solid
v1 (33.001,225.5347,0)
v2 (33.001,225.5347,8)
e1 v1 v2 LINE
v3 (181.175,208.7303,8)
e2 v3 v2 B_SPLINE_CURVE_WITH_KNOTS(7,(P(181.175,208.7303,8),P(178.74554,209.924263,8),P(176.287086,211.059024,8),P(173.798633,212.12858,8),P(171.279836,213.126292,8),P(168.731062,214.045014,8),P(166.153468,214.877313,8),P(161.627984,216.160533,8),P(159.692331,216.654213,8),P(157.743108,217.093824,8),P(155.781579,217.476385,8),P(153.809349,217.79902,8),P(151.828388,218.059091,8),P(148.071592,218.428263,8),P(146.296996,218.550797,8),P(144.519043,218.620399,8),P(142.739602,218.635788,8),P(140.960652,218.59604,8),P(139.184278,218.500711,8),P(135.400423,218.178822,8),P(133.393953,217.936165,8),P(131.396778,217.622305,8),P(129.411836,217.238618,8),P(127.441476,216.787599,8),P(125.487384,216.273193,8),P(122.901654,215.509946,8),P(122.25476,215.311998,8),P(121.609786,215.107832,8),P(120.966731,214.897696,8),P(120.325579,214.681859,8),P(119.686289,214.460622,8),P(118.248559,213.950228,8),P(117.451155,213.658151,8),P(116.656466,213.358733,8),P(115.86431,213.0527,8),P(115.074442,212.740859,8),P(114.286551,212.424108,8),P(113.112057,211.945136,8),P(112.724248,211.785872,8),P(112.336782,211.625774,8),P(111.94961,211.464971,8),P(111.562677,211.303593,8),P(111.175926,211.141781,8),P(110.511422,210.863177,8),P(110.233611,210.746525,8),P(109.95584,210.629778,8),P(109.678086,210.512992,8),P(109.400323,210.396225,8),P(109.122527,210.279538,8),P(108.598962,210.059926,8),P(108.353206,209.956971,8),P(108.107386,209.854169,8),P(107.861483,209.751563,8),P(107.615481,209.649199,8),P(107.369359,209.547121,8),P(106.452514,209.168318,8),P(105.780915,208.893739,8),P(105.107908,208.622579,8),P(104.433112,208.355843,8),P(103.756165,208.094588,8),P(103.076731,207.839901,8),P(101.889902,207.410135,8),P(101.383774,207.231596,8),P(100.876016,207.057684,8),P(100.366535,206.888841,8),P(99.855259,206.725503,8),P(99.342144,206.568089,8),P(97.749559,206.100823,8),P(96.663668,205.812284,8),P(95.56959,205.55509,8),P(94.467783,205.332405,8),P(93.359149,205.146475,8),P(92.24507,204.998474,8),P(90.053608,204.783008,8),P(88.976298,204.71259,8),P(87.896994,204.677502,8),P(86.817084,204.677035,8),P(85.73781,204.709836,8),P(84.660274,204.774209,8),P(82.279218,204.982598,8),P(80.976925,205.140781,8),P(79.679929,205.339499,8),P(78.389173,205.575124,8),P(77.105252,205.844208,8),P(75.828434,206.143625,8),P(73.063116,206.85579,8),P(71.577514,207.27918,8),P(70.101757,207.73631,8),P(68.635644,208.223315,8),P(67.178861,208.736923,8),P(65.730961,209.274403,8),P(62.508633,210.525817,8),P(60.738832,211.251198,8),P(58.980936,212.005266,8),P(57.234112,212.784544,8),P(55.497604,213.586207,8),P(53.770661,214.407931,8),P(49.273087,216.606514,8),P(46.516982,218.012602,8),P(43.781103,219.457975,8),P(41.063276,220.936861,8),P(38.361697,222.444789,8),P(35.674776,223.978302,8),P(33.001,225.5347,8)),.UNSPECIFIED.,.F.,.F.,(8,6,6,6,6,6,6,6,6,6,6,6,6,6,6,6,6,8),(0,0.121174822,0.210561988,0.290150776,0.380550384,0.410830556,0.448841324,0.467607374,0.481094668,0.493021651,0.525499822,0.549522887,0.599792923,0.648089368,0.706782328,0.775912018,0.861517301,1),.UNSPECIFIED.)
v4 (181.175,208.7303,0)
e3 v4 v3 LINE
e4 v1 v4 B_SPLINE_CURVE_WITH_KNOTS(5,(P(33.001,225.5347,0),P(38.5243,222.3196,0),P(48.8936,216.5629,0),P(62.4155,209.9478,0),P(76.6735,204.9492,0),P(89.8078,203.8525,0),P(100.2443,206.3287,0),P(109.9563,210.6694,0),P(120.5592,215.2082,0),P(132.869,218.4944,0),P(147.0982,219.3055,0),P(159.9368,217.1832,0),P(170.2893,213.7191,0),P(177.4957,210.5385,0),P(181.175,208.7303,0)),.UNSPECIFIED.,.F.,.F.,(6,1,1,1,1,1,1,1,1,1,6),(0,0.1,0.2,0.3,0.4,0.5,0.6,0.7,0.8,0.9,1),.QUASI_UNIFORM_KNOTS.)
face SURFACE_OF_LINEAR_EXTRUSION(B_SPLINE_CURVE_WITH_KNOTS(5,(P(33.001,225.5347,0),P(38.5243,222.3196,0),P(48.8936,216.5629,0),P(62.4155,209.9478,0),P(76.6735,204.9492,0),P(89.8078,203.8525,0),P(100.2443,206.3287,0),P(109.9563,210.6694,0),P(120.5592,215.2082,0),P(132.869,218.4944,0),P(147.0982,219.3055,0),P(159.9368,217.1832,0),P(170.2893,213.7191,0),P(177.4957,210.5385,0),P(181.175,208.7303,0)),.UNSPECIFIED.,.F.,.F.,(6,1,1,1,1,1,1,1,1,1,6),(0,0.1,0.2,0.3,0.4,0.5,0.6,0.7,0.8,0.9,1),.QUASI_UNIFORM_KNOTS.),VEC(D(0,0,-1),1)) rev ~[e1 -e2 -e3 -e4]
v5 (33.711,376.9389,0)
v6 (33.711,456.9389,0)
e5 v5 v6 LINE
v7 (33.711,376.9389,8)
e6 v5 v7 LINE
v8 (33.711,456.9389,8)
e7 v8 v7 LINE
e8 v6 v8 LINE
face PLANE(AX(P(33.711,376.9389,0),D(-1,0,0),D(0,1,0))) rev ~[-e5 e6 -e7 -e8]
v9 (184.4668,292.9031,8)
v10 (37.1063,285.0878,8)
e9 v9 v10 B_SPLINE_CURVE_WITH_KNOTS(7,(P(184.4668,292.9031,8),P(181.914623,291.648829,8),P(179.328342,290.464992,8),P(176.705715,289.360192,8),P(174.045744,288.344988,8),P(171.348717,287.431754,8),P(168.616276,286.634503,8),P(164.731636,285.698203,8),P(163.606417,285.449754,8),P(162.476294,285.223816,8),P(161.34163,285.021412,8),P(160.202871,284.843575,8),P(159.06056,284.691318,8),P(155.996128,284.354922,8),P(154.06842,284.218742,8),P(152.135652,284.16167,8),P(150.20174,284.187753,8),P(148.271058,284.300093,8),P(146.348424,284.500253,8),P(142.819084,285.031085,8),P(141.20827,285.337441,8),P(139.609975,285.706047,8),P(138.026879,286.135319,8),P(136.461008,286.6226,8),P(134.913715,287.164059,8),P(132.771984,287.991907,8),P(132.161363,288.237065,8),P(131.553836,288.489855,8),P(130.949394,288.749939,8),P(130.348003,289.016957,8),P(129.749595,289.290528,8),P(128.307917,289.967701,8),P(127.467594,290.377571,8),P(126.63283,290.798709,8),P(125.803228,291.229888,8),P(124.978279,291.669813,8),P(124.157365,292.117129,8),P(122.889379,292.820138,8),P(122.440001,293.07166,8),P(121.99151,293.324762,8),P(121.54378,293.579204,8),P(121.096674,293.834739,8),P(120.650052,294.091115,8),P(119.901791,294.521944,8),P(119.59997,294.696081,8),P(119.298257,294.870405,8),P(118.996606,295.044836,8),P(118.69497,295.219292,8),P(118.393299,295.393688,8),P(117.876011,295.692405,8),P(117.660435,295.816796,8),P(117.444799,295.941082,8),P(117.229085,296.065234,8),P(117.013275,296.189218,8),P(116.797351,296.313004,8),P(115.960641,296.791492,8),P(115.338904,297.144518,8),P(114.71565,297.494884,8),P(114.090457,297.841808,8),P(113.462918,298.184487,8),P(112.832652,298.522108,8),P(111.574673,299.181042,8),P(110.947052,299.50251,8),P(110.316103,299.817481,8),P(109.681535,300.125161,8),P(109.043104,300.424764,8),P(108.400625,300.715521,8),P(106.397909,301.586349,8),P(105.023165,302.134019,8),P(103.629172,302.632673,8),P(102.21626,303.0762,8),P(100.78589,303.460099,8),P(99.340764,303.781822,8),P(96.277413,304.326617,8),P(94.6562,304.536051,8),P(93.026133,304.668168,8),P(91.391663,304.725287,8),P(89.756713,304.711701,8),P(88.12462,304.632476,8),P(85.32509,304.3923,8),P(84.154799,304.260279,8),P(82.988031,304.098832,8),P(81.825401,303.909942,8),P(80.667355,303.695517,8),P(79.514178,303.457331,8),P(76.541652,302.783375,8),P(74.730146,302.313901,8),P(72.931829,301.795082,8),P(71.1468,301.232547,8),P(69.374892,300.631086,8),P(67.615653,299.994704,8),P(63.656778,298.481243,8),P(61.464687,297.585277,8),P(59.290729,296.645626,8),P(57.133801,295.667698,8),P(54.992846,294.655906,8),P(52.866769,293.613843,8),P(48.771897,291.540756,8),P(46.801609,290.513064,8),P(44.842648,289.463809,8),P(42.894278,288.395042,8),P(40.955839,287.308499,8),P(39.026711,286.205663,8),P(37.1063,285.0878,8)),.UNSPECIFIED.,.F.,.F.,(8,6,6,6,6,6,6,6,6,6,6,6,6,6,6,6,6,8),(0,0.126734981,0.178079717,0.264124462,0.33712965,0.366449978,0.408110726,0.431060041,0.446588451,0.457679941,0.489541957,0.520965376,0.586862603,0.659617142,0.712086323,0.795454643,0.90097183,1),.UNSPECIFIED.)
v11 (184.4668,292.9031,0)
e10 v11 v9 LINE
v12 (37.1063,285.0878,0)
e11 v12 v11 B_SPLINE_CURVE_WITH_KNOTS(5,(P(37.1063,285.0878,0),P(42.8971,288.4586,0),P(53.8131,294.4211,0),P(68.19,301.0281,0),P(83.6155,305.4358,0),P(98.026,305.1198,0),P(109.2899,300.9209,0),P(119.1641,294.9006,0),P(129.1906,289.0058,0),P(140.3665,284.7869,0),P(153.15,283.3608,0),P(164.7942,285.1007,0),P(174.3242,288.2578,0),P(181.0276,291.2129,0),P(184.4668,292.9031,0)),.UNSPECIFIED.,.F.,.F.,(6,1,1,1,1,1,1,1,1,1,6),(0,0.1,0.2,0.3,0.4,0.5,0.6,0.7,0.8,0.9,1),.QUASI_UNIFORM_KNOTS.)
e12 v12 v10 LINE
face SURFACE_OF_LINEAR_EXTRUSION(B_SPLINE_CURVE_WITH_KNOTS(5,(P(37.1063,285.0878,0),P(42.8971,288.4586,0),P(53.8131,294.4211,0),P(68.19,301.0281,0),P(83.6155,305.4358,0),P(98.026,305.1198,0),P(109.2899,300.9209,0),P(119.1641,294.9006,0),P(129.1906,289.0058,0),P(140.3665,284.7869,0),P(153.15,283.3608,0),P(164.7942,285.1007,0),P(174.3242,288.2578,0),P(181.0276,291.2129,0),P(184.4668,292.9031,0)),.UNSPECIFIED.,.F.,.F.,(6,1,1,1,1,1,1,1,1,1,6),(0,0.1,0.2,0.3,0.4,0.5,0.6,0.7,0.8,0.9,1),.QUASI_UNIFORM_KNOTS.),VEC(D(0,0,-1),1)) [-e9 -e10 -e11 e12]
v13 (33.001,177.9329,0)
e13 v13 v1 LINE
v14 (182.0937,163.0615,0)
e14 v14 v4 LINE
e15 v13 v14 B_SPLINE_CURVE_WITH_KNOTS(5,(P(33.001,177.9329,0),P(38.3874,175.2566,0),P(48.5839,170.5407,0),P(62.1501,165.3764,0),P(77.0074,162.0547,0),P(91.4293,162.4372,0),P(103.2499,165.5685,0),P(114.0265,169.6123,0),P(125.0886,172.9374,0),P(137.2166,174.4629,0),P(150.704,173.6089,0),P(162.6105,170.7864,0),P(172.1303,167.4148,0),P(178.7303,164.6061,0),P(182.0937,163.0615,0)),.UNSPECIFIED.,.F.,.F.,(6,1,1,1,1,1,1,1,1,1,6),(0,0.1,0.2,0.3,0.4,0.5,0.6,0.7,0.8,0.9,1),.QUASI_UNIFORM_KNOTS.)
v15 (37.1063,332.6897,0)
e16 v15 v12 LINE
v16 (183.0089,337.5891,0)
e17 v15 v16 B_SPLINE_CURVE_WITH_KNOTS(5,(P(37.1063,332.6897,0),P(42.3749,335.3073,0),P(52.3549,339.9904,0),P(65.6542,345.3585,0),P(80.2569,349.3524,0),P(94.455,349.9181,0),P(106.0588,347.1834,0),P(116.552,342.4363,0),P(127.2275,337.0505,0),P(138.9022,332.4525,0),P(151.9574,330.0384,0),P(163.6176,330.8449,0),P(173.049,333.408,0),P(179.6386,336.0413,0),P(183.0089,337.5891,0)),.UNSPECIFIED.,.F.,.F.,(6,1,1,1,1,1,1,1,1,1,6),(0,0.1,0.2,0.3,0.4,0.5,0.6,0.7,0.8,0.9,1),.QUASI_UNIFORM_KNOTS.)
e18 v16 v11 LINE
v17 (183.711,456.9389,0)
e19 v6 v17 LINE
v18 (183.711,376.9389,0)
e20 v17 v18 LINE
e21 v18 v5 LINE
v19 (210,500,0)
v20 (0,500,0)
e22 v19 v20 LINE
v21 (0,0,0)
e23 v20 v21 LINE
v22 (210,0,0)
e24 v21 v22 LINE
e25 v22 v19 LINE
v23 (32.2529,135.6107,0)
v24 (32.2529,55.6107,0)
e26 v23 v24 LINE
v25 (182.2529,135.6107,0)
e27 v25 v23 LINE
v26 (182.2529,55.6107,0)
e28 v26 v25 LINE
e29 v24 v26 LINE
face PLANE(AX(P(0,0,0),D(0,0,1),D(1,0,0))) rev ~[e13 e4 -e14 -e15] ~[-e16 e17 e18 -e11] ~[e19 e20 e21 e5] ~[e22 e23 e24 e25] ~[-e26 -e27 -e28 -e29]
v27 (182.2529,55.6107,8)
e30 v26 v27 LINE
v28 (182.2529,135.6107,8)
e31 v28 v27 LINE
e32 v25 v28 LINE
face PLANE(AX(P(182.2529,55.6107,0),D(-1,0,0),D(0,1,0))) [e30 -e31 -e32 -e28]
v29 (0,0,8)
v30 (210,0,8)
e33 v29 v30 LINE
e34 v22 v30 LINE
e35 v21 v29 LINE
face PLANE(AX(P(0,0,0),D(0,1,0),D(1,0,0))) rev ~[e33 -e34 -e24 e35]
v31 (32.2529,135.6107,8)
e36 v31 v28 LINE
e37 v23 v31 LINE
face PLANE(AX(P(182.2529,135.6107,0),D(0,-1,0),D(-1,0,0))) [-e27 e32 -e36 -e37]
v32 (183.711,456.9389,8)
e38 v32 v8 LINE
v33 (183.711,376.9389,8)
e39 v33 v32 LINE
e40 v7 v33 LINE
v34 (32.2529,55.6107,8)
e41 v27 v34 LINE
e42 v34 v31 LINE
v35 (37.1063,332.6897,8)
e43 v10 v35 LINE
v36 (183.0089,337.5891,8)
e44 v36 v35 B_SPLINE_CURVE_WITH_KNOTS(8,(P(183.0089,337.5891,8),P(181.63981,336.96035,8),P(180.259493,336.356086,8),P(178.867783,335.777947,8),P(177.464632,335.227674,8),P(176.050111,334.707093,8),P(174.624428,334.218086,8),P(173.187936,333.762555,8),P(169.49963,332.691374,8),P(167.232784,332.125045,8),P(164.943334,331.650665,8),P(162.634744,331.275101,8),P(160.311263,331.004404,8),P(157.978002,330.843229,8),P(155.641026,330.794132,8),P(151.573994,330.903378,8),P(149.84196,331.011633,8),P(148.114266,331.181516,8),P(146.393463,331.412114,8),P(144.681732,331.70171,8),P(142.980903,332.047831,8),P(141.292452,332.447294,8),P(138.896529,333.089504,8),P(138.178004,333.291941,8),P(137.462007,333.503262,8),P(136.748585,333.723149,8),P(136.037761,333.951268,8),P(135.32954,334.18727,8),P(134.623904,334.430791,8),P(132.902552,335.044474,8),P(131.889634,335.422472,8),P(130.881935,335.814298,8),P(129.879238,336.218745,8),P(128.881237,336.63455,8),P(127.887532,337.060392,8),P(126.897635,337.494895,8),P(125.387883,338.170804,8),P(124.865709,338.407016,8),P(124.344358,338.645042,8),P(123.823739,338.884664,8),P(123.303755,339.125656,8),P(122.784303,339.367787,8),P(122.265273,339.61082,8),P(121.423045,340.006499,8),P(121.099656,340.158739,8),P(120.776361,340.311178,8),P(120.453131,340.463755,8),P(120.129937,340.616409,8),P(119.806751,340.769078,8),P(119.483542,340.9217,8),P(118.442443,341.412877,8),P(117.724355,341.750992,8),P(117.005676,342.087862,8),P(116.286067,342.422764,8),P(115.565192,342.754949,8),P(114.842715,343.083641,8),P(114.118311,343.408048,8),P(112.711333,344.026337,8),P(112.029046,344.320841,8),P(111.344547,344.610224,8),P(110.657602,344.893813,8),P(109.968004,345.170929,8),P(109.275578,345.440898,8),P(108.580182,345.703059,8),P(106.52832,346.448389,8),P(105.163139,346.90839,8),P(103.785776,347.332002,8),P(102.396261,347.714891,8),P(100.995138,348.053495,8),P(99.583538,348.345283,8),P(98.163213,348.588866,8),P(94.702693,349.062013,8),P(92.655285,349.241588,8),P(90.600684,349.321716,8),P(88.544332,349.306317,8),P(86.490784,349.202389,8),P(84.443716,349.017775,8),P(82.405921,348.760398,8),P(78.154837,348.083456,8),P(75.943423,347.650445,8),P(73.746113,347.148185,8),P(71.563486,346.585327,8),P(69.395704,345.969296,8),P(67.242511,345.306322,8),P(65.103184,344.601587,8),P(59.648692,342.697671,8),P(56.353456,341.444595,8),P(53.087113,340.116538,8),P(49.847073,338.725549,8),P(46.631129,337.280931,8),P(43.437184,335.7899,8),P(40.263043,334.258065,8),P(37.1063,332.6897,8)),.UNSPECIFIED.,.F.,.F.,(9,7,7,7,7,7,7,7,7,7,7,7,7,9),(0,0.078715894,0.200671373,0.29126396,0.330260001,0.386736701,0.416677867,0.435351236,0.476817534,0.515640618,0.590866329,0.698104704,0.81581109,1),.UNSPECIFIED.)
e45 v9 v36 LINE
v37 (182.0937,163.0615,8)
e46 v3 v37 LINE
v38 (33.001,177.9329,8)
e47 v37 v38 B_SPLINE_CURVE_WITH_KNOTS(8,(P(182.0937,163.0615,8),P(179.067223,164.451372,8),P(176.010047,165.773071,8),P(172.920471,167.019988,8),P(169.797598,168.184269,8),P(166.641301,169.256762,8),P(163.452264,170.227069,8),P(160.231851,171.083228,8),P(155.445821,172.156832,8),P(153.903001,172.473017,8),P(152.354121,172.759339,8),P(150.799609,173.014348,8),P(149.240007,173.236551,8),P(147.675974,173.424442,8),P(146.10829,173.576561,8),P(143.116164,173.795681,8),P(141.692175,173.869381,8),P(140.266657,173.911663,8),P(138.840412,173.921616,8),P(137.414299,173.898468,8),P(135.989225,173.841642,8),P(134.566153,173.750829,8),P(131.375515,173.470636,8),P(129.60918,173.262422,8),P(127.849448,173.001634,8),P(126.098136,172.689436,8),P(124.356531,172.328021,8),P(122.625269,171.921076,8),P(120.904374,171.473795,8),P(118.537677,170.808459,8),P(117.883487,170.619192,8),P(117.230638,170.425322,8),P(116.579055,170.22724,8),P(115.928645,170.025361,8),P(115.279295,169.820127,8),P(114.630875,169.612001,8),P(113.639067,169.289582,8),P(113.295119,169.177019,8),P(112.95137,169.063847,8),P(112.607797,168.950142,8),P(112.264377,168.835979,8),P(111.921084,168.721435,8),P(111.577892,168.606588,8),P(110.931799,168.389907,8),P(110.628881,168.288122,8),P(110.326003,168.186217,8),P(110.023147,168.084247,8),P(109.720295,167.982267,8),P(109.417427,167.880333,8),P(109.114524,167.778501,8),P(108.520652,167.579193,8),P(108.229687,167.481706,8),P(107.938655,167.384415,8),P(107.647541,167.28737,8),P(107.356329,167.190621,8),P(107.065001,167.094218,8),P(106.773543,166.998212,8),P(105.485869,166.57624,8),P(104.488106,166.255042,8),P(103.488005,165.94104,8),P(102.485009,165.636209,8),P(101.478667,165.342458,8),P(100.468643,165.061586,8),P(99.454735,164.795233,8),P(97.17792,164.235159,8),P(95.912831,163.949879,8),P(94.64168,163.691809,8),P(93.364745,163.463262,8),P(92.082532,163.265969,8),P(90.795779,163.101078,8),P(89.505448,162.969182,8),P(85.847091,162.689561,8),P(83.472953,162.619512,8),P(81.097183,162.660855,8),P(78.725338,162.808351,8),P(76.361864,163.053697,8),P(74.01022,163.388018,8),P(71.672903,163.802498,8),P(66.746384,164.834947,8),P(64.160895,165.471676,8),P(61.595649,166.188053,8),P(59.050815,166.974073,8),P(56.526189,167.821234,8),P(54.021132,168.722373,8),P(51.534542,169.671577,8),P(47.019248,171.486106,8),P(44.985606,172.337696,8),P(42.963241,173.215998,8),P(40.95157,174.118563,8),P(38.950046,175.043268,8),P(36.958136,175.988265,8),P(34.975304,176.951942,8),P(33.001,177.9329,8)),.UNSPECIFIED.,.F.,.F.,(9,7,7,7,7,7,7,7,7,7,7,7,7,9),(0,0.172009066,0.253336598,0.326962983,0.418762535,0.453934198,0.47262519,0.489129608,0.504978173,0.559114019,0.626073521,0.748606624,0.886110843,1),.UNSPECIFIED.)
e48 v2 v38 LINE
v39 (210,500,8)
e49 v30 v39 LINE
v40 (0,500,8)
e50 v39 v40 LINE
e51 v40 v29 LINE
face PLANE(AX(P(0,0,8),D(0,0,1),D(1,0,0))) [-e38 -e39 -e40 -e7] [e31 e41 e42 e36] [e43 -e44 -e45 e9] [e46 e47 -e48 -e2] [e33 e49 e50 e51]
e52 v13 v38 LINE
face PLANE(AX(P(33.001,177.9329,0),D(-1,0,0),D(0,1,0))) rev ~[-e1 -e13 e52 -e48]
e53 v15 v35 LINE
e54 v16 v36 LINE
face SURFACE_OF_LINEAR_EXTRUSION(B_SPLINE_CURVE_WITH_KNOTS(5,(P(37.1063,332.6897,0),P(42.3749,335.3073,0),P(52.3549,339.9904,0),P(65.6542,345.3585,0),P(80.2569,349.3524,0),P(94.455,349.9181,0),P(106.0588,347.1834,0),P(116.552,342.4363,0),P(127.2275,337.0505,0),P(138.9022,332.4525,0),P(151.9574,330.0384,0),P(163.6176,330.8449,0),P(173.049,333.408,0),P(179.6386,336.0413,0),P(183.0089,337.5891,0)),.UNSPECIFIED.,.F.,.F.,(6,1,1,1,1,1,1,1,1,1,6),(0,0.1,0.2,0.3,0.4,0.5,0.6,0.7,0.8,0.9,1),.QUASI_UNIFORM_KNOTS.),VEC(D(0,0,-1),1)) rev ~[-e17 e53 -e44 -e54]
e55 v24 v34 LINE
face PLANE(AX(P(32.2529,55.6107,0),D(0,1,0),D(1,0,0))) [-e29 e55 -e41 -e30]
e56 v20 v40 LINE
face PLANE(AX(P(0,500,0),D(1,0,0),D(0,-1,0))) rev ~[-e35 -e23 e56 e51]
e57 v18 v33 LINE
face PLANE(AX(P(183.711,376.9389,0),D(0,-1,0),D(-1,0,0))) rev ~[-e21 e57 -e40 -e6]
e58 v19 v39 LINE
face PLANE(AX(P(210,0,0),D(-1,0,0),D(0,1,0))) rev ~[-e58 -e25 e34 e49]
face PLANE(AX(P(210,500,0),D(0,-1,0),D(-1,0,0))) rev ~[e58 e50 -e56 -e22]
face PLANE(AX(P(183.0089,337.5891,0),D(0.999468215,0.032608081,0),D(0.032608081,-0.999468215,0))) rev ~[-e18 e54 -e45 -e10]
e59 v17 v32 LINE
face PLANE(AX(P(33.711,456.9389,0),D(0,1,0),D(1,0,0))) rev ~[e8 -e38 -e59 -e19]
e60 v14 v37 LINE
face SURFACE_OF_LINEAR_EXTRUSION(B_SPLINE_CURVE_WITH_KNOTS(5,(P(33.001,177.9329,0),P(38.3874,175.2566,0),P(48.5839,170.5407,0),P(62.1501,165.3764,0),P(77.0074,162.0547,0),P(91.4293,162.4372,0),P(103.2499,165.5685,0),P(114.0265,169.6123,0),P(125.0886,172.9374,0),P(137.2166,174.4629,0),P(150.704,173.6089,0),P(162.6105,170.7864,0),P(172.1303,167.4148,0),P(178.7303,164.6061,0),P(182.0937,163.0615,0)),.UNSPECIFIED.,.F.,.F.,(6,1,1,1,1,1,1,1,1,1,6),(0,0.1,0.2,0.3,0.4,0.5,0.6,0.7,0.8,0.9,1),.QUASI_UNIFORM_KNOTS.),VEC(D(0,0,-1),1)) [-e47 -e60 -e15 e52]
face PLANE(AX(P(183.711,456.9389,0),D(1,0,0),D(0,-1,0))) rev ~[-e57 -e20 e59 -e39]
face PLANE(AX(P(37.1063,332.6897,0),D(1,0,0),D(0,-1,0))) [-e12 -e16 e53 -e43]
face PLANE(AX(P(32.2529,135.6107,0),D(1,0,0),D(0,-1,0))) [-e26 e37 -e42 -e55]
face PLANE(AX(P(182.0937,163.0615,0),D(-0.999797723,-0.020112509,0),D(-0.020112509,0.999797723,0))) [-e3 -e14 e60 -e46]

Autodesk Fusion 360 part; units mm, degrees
sketch "Sketch1" plane through (0, 0, 0) normal (0, 0, 1) x (1, 0, 0)
  line L0 (0, 500) -> (0, 0)
  line L1 (0, 0) -> (210, 0)
  line L2 (210, 0) -> (210, 500)
  line L3 (210, 500) -> (0, 500)
  line L4 (210, 0) -> (210, 500)
  line L5 (420, 500) -> (420, 0)
  line L6 (210, 500) -> (420, 500)
  line L7 (420, 0) -> (210, 0)
  point P0 (420, 0)
  dimension "d1" = 210
  dimension "d2" = 500
sketch "Sketch2" plane through (0, 0, 0) normal (0, 0, 1) x (1, 0, 0)
  line L0 (33.711, 456.9389) -> (183.711, 456.9389)
  line L1 (183.711, 456.9389) -> (183.711, 376.9389)
  line L2 (183.711, 376.9389) -> (33.711, 376.9389)
  line L3 (33.711, 376.9389) -> (33.711, 456.9389)
  line L4 (210, 0) -> (210, 500)
  line L5 (236.289, 456.9389) -> (236.289, 376.9389)
  line L6 (236.289, 376.9389) -> (386.289, 376.9389)
  line L7 (386.289, 456.9389) -> (236.289, 456.9389)
  line L8 (386.289, 376.9389) -> (386.289, 456.9389)
  dimension "d5" = 80
  dimension "d6" = 150
sketch "Sketch3" plane through (0, 0, 0) normal (0, 0, 1) x (1, 0, 0)
  line L0 (32.2529, 55.6107) -> (182.2529, 55.6107)
  line L1 (182.2529, 55.6107) -> (182.2529, 135.6107)
  line L2 (182.2529, 135.6107) -> (32.2529, 135.6107)
  line L3 (32.2529, 135.6107) -> (32.2529, 55.6107)
  line L4 (210, 0) -> (210, 500)
  line L5 (237.7471, 55.6107) -> (237.7471, 135.6107)
  line L6 (387.7471, 135.6107) -> (387.7471, 55.6107)
  line L7 (237.7471, 135.6107) -> (387.7471, 135.6107)
  line L8 (387.7471, 55.6107) -> (237.7471, 55.6107)
  dimension "d3" = 80
  dimension "d4" = 150
sketch "Sketch4" plane through (0, 0, 0) normal (0, 0, 1) x (1, 0, 0)
  spline S0 degree 5 poles (37.1063, 332.6897) (42.3749, 335.3073) (52.3549, 339.9904) (65.6542, 345.3585) (80.2569, 349.3524) (94.455, 349.9181) (106.0588, 347.1834) (116.552, 342.4363) (127.2275, 337.0505) (138.9022, 332.4525) (151.9574, 330.0384) (163.6176, 330.8449) (173.049, 333.408) (179.6386, 336.0413) (183.0089, 337.5891) knots 0 0 0 0 0 0 0.1 0.2 0.3 0.4 0.5 0.6 0.7 0.8 0.9 1 1 1 1 1 1
  line L0 (12.8551, 320.6405) -> (61.3576, 344.7389)
  spline S1 degree 5 poles (37.1063, 285.0878) (42.8971, 288.4586) (53.8131, 294.4211) (68.19, 301.0281) (83.6155, 305.4358) (98.026, 305.1198) (109.2899, 300.9209) (119.1641, 294.9006) (129.1906, 289.0058) (140.3665, 284.7869) (153.15, 283.3608) (164.7942, 285.1007) (174.3242, 288.2578) (181.0276, 291.2129) (184.4668, 292.9031) knots 0 0 0 0 0 0 0.1 0.2 0.3 0.4 0.5 0.6 0.7 0.8 0.9 1 1 1 1 1 1
  line L1 (11.3971, 270.1228) -> (62.8155, 300.0529)
  line L2 (183.0089, 337.5891) -> (184.4668, 292.9031)
  line L3 (37.1063, 332.6897) -> (37.1063, 285.0878)
  spline S2 degree 5 poles (33.001, 177.9329) (38.3874, 175.2566) (48.5839, 170.5407) (62.1501, 165.3764) (77.0074, 162.0547) (91.4293, 162.4372) (103.2499, 165.5685) (114.0265, 169.6123) (125.0886, 172.9374) (137.2166, 174.4629) (150.704, 173.6089) (162.6105, 170.7864) (172.1303, 167.4148) (178.7303, 164.6061) (182.0937, 163.0615) knots 0 0 0 0 0 0 0.1 0.2 0.3 0.4 0.5 0.6 0.7 0.8 0.9 1 1 1 1 1 1
  line L4 (165.4289, 329.5156) -> (200.5889, 345.6626)
  line L5 (8.7497, 189.9821) -> (57.2522, 165.8837)
  line L6 (164.5136, 171.135) -> (199.6737, 154.988)
  line L7 (33.001, 177.9329) -> (33.001, 225.5347)
  spline S3 degree 5 poles (33.001, 225.5347) (38.5243, 222.3196) (48.8936, 216.5629) (62.4155, 209.9478) (76.6735, 204.9492) (89.8078, 203.8525) (100.2443, 206.3287) (109.9563, 210.6694) (120.5592, 215.2082) (132.869, 218.4944) (147.0982, 219.3055) (159.9368, 217.1832) (170.2893, 213.7191) (177.4957, 210.5385) (181.175, 208.7303) knots 0 0 0 0 0 0 0.1 0.2 0.3 0.4 0.5 0.6 0.7 0.8 0.9 1 1 1 1 1 1
  line L8 (166.2067, 283.9293) -> (202.727, 301.8769)
  line L9 (7.2917, 240.4998) -> (58.7102, 210.5696)
  line L10 (162.9149, 217.7041) -> (199.4352, 199.7565)
  line L11 (182.0937, 163.0615) -> (181.175, 208.7303)
  line L12 (210, 0) -> (210, 500)
  spline S4 degree 5 poles (382.8937, 332.6897) (377.6251, 335.3073) (367.6451, 339.9904) (354.3458, 345.3585) (339.7431, 349.3524) (325.545, 349.9181) (313.9412, 347.1834) (303.448, 342.4363) (292.7725, 337.0505) (281.0978, 332.4525) (268.0426, 330.0384) (256.3824, 330.8449) (246.951, 333.408) (240.3614, 336.0413) (236.9911, 337.5891) knots 0 0 0 0 0 0 0.1 0.2 0.3 0.4 0.5 0.6 0.7 0.8 0.9 1 1 1 1 1 1
  line L13 (407.1449, 320.6405) -> (358.6424, 344.7389)
  line L14 (254.5711, 329.5156) -> (219.4111, 345.6626)
  line L15 (382.8937, 332.6897) -> (382.8937, 285.0878)
  line L16 (237.9063, 163.0615) -> (238.825, 208.7303)
  line L17 (236.9911, 337.5891) -> (235.5332, 292.9031)
  spline S5 degree 5 poles (386.999, 177.9329) (381.6126, 175.2566) (371.4161, 170.5407) (357.8499, 165.3764) (342.9926, 162.0547) (328.5707, 162.4372) (316.7501, 165.5685) (305.9735, 169.6123) (294.9114, 172.9374) (282.7834, 174.4629) (269.296, 173.6089) (257.3895, 170.7864) (247.8697, 167.4148) (241.2697, 164.6061) (237.9063, 163.0615) knots 0 0 0 0 0 0 0.1 0.2 0.3 0.4 0.5 0.6 0.7 0.8 0.9 1 1 1 1 1 1
  line L18 (411.2503, 189.9821) -> (362.7478, 165.8837)
  line L19 (255.4864, 171.135) -> (220.3263, 154.988)
  spline S6 degree 5 poles (386.999, 225.5347) (381.4757, 222.3196) (371.1064, 216.5629) (357.5845, 209.9478) (343.3265, 204.9492) (330.1922, 203.8525) (319.7557, 206.3287) (310.0437, 210.6694) (299.4408, 215.2082) (287.131, 218.4944) (272.9018, 219.3055) (260.0632, 217.1832) (249.7107, 213.7191) (242.5043, 210.5385) (238.825, 208.7303) knots 0 0 0 0 0 0 0.1 0.2 0.3 0.4 0.5 0.6 0.7 0.8 0.9 1 1 1 1 1 1
  line L20 (412.7083, 240.4998) -> (361.2898, 210.5696)
  line L21 (257.0851, 217.7041) -> (220.5648, 199.7565)
  spline S7 degree 5 poles (382.8937, 285.0878) (377.1029, 288.4586) (366.1869, 294.4211) (351.81, 301.0281) (336.3845, 305.4358) (321.974, 305.1198) (310.7101, 300.9209) (300.8359, 294.9006) (290.8094, 289.0058) (279.6335, 284.7869) (266.85, 283.3608) (255.2058, 285.1007) (245.6758, 288.2578) (238.9724, 291.2129) (235.5332, 292.9031) knots 0 0 0 0 0 0 0.1 0.2 0.3 0.4 0.5 0.6 0.7 0.8 0.9 1 1 1 1 1 1
  line L22 (408.6029, 270.1228) -> (357.1845, 300.0529)
  line L23 (253.7933, 283.9293) -> (217.273, 301.8769)
  line L24 (386.999, 177.9329) -> (386.999, 225.5347)
  point P0 (120.393, 340.4922)
  point P1 (123.6058, 292.4233)
  point P2 (117.8255, 170.5984)
  point P3 (112.0744, 211.5163)
  point P4 (307.9256, 211.5163)
  point P5 (299.607, 340.4922)
  point P6 (302.1745, 170.5984)
  point P7 (296.3942, 292.4233)
sketch "Sketch5" plane through (0, 0, 0) normal (0, 0, 1) x (1, 0, 0)
  line L0 (36.9414, 334.4826) -> (36.9414, 288.2338)
sketch "Sketch6" plane through (0, 0, 0) normal (0, 0, 1) x (1, 0, 0)
  line L0 (182.7332, 343.5551) -> (182.7332, 300.0101)
  line L1 (210, 0) -> (210, 500)
  line L2 (237.2668, 343.5551) -> (237.2668, 300.0101)
extrude "Extrude1" add sketch "Sketch1" along normal blind 8 contours L0 L1 L2 L3 L4
extrude "Extrude2" cut sketch "Sketch4" along normal blind 50 contours S2 L7 S3 L11
extrude "Extrude3" cut sketch "Sketch3" along normal blind 50 contours L0 L1 L2 L3
extrude "Extrude4" cut sketch "Sketch2" along normal blind 50 contours L0 L1 L2 L3
extrude "Extrude5" cut sketch "Sketch4" along normal blind 20 contours S0 S1 L2 L3
